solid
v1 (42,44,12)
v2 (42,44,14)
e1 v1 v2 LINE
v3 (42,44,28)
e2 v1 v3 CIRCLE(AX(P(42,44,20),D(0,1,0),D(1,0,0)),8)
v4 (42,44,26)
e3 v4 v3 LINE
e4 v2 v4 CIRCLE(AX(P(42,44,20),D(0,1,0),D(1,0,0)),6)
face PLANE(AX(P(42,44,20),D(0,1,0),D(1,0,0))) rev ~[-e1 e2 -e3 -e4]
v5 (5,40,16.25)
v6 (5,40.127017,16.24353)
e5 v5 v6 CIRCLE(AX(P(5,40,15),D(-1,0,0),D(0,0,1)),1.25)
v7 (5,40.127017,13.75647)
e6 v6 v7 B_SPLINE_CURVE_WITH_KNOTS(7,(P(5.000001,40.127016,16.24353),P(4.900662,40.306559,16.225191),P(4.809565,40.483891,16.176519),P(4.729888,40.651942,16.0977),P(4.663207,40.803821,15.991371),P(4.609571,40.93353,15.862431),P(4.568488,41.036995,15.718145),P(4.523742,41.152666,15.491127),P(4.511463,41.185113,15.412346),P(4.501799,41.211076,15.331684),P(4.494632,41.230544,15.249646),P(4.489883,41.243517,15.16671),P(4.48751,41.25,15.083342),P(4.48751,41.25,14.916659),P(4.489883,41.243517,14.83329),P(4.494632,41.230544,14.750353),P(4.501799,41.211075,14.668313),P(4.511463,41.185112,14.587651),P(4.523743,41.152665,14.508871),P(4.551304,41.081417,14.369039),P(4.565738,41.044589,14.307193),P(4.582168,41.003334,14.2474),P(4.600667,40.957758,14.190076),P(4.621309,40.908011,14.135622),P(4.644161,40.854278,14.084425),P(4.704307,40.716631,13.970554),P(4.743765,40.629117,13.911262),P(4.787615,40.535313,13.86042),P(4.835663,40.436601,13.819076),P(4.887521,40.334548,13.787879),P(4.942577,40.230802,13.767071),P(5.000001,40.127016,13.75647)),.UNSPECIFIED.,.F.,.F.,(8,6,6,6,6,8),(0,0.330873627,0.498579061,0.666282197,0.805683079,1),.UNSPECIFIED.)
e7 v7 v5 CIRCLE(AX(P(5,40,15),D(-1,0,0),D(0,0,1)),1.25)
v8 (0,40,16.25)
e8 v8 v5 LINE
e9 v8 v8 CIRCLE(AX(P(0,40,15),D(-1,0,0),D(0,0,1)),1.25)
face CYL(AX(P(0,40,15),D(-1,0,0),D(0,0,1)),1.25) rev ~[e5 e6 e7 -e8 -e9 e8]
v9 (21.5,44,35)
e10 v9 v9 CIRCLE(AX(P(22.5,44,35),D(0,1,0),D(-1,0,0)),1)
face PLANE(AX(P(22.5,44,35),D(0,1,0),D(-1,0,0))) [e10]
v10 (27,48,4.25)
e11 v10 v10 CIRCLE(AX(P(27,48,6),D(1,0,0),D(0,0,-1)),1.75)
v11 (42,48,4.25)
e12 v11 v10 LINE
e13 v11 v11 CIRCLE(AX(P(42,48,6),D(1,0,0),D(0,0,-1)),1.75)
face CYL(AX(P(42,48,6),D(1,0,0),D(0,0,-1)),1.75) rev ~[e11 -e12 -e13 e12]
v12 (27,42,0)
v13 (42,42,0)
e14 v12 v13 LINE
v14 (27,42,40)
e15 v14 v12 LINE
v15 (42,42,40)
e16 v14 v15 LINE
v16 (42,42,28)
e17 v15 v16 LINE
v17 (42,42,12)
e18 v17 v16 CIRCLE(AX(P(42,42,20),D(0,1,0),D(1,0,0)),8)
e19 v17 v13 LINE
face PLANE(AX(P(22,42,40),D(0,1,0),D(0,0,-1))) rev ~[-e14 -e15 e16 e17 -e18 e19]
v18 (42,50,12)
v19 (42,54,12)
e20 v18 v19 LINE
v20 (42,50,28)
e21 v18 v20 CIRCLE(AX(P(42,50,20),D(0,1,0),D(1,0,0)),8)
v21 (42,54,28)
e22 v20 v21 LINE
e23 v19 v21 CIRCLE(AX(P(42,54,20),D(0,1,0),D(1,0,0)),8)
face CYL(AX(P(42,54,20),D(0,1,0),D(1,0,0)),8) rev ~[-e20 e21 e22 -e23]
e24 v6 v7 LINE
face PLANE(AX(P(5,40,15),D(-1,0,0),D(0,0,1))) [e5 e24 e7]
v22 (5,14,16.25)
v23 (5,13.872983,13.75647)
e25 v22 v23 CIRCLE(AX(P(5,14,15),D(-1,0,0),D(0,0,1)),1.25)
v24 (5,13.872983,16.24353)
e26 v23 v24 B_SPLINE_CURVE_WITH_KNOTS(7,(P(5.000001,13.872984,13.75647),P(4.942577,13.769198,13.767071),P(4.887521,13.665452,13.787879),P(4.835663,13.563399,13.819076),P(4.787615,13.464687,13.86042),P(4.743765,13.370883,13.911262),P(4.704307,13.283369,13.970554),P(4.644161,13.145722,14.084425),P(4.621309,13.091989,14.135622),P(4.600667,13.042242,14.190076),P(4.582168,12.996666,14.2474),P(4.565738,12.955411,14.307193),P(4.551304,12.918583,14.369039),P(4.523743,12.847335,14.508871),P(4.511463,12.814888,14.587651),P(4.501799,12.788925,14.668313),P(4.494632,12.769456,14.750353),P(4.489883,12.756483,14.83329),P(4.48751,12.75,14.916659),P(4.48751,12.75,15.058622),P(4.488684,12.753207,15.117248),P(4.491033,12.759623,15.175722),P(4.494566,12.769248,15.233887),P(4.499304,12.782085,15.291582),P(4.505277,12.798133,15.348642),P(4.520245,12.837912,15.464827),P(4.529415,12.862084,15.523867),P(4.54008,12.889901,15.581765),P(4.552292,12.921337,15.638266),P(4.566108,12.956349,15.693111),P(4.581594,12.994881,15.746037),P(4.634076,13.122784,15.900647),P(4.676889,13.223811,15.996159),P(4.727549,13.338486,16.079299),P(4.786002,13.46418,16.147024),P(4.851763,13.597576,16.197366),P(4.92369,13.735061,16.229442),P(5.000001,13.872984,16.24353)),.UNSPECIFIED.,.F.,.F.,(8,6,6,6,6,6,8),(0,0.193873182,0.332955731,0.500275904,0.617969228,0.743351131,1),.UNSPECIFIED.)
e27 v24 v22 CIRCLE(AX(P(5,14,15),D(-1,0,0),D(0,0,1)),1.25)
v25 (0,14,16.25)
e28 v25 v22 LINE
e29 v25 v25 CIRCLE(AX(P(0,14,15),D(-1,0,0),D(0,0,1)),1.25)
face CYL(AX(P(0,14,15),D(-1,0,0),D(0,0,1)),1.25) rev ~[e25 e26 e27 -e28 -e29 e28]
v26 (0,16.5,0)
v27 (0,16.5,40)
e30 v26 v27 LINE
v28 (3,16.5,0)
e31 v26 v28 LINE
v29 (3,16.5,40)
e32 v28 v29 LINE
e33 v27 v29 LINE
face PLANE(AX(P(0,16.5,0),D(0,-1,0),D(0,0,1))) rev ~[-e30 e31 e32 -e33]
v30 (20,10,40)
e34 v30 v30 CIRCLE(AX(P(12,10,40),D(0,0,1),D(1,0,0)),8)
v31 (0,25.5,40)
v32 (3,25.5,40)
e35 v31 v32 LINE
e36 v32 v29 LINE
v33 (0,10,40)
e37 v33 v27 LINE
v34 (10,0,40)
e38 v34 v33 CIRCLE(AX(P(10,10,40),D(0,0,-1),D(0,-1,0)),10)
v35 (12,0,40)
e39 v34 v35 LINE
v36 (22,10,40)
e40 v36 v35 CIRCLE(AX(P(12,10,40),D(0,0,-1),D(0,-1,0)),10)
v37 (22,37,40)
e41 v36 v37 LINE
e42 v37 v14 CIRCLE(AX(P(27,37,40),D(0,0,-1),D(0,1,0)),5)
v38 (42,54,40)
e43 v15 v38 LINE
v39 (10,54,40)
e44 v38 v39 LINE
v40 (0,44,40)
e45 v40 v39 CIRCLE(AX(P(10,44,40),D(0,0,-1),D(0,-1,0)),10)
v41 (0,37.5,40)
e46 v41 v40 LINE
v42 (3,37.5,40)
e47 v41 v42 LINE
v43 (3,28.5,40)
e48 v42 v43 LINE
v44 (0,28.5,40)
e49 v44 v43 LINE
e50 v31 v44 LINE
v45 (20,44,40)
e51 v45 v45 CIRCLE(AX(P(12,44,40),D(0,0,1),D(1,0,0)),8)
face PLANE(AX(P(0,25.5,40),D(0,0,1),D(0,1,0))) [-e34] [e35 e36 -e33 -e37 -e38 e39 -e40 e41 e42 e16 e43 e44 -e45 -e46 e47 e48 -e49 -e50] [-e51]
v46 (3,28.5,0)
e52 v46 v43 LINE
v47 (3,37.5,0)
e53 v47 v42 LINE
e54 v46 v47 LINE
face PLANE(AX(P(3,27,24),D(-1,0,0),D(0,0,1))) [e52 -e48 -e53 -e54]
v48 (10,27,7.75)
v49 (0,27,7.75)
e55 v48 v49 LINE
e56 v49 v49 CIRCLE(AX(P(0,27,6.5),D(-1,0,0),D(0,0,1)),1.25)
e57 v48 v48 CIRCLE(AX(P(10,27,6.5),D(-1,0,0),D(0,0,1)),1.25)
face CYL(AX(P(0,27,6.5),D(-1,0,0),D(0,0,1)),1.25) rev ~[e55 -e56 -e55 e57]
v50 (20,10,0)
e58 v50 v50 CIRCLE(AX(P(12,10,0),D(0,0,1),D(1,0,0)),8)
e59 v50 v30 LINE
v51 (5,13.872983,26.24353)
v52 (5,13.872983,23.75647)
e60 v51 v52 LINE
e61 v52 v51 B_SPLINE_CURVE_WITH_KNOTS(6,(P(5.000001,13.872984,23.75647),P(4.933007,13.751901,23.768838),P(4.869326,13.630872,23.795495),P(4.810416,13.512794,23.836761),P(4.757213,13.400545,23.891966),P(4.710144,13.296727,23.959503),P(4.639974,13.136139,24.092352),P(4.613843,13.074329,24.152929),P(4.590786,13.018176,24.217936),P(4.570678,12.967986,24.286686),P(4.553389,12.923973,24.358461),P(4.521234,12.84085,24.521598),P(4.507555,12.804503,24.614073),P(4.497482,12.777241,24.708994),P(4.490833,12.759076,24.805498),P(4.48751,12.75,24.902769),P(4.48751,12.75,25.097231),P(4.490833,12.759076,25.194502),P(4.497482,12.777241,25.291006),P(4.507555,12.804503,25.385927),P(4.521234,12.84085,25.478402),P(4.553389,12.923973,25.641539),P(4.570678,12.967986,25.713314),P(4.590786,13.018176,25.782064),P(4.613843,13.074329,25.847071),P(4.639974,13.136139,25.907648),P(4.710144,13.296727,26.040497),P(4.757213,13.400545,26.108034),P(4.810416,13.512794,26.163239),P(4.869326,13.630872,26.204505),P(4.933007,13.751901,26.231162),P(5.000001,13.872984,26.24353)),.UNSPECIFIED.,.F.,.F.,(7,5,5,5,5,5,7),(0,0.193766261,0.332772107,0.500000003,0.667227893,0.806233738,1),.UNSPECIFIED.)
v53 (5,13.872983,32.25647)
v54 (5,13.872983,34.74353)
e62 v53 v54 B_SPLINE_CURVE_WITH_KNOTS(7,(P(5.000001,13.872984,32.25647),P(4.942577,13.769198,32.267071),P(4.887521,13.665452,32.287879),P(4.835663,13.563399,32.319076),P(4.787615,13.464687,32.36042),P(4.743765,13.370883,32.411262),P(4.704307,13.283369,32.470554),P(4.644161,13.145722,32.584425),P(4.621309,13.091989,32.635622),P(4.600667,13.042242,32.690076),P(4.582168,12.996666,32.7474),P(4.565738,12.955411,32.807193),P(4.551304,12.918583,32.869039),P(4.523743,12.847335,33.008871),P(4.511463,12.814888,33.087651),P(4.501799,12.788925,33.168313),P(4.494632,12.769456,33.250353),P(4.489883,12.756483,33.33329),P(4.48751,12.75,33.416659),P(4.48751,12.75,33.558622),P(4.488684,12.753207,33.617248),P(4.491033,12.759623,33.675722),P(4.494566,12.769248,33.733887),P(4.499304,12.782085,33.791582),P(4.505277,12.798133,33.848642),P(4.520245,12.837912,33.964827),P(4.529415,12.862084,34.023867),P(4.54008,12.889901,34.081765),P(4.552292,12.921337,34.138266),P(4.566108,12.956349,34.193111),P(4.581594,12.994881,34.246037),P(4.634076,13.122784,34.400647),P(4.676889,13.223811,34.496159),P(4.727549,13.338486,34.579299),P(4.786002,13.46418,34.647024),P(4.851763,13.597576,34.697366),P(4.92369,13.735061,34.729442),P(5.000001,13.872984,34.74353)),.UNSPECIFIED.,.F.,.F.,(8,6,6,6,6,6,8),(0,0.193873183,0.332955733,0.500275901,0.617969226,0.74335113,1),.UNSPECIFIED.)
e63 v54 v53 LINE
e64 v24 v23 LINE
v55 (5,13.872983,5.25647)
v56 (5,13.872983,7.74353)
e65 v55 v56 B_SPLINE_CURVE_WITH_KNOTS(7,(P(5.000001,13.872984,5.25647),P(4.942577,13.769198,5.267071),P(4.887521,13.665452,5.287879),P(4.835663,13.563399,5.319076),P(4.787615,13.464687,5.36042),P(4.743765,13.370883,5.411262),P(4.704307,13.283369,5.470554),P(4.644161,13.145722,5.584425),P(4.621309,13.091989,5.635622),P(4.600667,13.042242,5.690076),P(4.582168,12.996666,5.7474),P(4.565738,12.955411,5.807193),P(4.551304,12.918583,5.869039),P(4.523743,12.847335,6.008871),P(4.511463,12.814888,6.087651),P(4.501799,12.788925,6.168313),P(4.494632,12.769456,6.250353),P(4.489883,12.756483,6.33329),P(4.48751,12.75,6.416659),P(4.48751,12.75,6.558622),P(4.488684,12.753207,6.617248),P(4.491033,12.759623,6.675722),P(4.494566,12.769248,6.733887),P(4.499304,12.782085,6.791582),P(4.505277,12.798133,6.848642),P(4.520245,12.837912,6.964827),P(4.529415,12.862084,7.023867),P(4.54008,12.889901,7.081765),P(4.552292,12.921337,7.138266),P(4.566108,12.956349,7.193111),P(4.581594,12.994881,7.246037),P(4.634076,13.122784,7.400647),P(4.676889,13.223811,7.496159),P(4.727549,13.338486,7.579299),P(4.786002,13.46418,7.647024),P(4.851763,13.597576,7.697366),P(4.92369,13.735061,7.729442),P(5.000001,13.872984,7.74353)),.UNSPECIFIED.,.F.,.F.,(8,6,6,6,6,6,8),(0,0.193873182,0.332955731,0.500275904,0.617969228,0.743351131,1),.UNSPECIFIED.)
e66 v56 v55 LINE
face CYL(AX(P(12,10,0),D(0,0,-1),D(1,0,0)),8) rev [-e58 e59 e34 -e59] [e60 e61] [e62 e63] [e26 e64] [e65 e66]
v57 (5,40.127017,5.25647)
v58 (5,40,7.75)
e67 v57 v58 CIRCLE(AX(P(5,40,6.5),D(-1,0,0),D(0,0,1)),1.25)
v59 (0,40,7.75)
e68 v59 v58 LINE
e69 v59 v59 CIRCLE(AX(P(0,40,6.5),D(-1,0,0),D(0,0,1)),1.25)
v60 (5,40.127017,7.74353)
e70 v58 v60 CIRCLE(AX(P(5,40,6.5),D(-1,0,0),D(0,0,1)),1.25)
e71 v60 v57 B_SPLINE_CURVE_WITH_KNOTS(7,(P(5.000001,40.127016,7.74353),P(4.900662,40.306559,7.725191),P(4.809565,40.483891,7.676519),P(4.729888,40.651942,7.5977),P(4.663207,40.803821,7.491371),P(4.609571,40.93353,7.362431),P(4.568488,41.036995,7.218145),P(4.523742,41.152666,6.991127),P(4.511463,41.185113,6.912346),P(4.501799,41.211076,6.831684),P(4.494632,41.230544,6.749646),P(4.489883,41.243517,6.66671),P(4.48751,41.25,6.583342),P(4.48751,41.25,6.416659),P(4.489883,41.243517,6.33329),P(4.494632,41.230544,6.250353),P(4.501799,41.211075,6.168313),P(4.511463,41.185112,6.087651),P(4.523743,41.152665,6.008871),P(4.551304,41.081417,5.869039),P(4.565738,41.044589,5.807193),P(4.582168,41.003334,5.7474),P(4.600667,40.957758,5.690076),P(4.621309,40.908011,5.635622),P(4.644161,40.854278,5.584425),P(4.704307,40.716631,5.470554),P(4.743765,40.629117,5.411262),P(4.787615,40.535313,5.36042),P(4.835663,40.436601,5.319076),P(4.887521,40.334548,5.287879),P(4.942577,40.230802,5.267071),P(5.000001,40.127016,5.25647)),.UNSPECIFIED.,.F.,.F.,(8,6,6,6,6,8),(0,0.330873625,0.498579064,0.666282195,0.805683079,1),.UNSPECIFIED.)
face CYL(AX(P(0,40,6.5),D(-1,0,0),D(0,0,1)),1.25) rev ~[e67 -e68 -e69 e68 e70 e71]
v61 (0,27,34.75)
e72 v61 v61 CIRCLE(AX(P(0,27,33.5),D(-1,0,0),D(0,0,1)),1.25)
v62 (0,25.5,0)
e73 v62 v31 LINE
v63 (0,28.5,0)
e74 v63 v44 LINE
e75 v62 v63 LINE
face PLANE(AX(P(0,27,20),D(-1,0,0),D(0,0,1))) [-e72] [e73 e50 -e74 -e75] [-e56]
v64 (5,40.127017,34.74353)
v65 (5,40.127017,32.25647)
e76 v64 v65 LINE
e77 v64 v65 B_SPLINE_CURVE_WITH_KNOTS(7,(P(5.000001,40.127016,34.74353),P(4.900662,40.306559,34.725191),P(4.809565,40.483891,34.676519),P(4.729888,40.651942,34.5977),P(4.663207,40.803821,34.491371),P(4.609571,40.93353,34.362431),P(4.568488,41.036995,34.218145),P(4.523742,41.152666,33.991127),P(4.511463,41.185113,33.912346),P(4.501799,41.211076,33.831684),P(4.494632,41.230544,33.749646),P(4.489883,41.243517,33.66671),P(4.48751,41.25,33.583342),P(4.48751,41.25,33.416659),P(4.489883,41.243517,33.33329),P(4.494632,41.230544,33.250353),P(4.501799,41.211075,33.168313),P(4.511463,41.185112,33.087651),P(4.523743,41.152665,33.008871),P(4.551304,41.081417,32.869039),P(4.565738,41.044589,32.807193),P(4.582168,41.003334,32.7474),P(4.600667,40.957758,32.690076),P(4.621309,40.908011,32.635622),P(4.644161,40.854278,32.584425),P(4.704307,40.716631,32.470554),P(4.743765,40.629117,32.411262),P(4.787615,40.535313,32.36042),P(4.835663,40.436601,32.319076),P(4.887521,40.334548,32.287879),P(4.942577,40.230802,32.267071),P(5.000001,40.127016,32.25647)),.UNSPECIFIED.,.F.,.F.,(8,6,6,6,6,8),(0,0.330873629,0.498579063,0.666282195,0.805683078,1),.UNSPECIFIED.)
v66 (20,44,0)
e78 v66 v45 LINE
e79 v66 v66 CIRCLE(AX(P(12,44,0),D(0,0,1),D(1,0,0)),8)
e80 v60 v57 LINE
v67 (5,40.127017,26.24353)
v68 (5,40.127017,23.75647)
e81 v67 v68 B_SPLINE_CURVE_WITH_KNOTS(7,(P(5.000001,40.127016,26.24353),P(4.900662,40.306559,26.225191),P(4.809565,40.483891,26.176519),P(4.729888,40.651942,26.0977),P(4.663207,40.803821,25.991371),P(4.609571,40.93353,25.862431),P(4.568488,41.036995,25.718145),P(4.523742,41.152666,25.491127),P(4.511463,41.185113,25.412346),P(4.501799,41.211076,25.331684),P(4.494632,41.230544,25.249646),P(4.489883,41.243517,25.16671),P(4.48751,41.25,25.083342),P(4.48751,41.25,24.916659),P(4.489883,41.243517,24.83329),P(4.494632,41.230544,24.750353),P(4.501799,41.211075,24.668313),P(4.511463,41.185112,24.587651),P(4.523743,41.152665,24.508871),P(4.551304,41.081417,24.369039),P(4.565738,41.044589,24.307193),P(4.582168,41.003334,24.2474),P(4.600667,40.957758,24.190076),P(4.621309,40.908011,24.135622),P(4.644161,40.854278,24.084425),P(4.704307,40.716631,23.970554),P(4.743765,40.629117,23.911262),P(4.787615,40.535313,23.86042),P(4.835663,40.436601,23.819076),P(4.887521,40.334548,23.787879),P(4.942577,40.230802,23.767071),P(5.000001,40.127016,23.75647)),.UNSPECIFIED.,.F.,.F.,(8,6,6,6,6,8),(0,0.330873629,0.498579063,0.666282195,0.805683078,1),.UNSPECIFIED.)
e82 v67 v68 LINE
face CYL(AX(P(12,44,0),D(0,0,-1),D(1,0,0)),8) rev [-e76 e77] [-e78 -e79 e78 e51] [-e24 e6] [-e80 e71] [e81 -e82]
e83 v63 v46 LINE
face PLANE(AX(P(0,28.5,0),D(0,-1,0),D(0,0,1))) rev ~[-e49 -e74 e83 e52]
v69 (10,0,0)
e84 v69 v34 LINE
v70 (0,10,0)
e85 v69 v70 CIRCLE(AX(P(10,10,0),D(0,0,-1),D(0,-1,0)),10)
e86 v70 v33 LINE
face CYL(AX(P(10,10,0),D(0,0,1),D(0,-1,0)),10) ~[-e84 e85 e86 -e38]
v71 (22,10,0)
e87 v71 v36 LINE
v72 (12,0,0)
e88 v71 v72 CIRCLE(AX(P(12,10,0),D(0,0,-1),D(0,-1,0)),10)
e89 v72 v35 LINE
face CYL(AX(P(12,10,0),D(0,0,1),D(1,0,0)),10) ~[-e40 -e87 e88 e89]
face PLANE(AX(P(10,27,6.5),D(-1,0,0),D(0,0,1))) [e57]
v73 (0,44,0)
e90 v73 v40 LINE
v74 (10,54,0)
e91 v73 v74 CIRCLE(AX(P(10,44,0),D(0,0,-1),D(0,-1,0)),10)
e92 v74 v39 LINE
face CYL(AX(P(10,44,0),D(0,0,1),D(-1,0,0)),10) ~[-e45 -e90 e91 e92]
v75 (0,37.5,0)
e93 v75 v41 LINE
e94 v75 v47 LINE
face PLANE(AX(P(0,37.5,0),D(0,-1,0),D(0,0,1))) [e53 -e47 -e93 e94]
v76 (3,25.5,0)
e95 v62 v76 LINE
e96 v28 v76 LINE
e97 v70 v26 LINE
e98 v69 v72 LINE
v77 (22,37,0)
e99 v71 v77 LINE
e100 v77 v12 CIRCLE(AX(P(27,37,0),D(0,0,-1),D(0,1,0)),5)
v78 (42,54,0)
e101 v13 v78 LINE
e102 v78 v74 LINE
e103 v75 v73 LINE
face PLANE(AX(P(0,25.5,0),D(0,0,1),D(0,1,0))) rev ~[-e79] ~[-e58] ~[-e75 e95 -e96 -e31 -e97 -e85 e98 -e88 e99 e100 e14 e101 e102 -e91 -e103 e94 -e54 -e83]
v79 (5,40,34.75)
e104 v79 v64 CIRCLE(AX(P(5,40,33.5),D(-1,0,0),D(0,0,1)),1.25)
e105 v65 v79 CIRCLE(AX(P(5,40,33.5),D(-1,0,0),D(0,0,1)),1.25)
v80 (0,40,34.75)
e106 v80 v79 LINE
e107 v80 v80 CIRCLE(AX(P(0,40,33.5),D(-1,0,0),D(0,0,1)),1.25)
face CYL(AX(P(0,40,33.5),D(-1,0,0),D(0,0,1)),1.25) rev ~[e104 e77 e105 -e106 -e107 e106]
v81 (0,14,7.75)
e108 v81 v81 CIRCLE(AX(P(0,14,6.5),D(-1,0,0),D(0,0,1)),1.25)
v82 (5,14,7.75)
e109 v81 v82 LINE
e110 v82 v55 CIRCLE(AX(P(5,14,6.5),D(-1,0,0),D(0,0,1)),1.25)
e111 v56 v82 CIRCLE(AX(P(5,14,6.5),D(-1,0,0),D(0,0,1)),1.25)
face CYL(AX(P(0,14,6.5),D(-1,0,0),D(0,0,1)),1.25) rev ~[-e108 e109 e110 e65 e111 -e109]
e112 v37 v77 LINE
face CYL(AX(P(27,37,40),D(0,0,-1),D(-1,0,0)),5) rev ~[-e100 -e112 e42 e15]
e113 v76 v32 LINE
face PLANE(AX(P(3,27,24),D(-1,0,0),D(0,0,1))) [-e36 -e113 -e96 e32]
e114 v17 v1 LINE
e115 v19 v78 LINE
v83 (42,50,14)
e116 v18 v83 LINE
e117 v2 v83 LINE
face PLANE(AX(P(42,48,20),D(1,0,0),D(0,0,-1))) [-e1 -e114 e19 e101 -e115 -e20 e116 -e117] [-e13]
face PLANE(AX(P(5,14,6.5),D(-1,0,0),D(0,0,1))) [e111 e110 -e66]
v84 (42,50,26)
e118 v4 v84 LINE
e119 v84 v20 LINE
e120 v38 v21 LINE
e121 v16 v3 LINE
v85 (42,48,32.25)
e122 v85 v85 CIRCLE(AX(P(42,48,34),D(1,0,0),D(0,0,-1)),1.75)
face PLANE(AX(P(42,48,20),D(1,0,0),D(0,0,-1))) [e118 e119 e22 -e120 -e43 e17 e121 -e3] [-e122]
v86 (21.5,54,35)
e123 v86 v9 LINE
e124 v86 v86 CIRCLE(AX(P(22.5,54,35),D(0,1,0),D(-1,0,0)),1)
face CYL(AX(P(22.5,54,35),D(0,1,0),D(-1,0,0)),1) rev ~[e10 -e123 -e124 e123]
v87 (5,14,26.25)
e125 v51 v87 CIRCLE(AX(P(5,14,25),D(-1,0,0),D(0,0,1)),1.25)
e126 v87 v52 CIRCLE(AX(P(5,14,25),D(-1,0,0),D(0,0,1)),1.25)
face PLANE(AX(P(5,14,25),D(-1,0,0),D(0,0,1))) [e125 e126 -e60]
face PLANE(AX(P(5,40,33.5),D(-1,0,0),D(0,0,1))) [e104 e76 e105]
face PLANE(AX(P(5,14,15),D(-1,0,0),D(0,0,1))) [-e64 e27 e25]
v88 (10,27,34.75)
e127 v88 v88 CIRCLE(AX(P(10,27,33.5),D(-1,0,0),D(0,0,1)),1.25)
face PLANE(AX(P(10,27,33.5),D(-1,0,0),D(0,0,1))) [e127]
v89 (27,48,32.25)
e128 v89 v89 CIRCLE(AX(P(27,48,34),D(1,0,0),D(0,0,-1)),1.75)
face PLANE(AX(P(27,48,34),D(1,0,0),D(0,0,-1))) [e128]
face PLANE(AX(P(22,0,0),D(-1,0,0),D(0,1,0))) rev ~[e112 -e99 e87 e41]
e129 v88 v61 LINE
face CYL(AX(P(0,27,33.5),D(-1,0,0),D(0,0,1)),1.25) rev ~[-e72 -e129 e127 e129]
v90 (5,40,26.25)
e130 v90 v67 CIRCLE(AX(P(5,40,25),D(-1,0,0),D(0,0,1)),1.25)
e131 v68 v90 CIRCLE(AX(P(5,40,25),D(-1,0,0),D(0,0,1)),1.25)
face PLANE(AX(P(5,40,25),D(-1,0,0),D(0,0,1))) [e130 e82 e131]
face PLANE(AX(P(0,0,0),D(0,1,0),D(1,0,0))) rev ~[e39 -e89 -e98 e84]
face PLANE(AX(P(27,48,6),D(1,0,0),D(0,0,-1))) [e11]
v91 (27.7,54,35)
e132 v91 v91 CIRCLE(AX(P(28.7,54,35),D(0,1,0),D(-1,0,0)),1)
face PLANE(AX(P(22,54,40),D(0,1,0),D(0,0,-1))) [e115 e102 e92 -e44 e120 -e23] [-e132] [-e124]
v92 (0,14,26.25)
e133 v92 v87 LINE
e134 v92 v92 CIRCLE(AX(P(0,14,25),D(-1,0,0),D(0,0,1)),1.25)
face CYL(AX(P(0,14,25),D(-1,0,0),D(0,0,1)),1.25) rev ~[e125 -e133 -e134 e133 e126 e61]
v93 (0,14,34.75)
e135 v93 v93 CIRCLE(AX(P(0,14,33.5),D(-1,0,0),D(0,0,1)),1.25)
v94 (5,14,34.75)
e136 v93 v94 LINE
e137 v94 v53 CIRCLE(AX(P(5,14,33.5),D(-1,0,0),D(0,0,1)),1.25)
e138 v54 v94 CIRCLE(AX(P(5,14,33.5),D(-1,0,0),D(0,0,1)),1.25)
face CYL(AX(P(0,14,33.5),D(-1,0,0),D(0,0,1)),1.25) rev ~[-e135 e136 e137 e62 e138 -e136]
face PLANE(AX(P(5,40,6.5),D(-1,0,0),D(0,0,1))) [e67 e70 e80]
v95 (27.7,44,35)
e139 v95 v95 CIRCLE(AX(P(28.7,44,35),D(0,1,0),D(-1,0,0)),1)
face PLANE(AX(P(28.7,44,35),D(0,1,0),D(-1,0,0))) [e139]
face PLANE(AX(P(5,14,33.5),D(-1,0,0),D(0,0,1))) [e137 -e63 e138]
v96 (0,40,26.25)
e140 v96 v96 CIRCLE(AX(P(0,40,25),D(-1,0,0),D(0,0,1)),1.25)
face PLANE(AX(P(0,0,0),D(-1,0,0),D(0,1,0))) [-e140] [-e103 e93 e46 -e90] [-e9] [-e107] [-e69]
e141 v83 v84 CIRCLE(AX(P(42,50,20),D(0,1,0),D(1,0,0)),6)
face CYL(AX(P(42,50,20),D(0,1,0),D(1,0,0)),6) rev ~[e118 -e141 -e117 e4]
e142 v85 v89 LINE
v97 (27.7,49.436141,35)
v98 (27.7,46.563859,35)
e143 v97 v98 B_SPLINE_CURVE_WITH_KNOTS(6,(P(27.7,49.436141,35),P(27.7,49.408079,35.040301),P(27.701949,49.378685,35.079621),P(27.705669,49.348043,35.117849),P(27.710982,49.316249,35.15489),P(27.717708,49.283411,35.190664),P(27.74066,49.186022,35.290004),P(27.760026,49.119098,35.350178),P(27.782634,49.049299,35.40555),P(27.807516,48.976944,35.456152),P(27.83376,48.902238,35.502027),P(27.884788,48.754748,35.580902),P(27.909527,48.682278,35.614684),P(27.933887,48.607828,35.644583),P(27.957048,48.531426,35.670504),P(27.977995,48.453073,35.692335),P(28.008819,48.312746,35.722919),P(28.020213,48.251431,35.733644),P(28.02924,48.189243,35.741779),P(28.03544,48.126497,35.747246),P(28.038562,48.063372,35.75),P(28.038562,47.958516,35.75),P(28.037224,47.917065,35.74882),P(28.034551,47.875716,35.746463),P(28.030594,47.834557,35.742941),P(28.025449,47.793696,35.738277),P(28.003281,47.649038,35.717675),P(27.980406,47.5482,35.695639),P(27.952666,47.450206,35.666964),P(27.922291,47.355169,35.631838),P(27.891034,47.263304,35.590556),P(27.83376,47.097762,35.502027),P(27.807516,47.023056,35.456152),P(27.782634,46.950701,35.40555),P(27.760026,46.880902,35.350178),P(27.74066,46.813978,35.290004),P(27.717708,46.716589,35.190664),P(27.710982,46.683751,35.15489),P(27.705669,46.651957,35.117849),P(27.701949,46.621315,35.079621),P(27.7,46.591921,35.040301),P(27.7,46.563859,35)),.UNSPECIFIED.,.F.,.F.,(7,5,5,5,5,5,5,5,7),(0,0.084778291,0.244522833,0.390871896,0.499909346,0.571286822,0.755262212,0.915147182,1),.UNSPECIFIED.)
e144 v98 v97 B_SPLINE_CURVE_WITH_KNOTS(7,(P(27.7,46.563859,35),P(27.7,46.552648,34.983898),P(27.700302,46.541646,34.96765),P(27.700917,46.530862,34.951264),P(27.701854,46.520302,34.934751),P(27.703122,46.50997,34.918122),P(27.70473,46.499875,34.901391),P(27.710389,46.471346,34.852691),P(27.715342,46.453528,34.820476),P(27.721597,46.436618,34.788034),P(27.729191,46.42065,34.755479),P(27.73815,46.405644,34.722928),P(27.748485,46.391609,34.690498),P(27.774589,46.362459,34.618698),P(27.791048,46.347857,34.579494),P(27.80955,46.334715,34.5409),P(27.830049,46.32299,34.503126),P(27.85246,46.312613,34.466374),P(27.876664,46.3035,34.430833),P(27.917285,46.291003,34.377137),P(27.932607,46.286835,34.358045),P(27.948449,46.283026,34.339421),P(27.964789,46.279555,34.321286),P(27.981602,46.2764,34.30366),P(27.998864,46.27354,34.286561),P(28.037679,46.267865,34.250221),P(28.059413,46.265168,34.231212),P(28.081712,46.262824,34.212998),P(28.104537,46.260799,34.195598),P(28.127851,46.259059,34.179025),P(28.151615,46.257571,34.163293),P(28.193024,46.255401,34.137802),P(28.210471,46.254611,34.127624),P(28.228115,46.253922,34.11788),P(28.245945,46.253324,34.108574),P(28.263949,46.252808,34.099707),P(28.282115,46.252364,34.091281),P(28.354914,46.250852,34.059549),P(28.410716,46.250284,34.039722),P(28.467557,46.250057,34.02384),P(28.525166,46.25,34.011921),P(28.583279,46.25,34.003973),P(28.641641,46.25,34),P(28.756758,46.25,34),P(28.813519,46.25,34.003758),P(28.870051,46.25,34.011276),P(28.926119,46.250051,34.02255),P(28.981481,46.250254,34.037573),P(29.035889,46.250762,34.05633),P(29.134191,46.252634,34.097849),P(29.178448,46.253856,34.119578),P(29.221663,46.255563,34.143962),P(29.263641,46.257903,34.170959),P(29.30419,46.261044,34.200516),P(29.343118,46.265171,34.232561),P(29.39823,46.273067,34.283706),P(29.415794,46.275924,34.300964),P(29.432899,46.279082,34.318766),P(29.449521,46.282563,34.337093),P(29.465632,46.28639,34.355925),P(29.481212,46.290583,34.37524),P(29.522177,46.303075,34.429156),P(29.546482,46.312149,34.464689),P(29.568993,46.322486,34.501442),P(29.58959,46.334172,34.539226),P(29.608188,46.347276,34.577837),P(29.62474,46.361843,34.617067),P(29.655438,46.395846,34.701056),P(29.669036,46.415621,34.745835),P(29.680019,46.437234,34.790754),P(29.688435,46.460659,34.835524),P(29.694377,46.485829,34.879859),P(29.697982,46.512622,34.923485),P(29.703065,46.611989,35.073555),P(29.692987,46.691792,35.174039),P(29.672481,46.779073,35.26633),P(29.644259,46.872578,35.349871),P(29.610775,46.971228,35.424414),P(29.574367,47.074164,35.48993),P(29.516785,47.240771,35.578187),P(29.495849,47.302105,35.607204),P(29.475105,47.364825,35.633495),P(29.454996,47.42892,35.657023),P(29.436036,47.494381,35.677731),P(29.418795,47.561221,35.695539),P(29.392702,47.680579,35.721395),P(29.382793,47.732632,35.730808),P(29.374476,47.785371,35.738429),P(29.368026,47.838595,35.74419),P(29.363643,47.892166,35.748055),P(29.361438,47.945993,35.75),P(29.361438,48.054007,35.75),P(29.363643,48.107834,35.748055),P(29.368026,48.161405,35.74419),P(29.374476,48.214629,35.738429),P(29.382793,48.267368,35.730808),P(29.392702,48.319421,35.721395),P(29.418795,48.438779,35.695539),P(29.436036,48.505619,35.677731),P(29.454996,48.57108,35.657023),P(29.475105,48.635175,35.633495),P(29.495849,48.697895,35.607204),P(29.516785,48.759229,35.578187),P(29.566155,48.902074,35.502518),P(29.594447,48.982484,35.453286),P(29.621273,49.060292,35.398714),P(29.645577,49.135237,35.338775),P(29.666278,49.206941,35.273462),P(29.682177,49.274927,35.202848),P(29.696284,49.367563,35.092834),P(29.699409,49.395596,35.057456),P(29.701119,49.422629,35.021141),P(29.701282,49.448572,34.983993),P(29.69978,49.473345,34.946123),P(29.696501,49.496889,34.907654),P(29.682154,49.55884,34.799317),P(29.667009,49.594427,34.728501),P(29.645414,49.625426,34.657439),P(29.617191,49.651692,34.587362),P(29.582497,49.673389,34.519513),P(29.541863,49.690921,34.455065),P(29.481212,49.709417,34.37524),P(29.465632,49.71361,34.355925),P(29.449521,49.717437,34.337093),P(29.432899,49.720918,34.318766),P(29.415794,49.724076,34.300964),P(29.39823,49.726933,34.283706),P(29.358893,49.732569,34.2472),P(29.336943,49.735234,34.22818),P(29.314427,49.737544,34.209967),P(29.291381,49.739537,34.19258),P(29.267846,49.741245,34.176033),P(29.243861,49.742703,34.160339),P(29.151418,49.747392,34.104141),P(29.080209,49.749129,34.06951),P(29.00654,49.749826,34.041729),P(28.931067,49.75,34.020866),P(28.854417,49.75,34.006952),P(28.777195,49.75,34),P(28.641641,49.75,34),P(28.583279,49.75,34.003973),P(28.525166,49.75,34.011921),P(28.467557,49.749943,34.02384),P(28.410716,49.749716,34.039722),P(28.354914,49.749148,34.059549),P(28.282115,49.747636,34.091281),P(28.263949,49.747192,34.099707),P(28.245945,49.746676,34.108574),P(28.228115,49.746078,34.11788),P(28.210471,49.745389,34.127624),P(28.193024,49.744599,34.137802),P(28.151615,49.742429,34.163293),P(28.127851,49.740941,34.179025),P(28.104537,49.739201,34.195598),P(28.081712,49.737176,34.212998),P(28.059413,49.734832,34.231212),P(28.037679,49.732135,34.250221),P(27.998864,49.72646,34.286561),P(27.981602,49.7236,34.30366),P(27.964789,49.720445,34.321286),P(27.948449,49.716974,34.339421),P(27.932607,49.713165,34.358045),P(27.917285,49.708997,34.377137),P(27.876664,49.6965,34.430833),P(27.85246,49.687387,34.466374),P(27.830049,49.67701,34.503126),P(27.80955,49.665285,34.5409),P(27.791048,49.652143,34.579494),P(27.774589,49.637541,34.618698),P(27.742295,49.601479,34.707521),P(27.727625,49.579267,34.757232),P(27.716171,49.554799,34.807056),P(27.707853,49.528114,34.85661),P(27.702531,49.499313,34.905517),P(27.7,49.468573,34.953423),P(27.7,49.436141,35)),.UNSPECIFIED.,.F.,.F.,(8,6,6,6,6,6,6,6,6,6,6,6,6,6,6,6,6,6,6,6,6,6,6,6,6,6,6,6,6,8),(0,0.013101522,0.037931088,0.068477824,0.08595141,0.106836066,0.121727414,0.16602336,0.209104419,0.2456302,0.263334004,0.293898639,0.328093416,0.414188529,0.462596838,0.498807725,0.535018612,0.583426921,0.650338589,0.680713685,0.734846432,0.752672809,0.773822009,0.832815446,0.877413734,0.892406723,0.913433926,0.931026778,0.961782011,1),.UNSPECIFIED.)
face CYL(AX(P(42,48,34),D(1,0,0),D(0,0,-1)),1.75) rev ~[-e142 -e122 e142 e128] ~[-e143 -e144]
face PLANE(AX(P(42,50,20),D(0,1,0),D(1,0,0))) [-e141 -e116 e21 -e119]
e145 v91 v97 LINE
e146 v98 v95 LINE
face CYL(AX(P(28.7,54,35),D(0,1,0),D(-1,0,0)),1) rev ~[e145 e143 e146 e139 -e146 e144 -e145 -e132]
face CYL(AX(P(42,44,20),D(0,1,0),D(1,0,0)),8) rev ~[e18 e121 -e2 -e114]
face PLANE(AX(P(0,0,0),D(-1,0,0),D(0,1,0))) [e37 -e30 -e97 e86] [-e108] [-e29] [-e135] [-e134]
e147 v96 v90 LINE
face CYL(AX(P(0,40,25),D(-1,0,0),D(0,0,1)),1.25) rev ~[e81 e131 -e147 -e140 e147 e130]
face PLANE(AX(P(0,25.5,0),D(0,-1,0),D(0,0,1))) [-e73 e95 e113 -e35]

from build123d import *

# Parameters (mm, degrees)
SKETCH1_W           = 22
SKETCH1_H           = 54
SKETCH1_R           = 8
BOSS_EXTRUDE1_DEPTH = 40
SKETCH2_W           = 48
SKETCH2_H           = 21
CUT_EXTRUDE1_DEPTH  = 3
SKETCH6_W           = 40
SKETCH6_H           = 12
BOSS_EXTRUDE2_DEPTH = 20
SKETCH7_R           = 8
CUT_EXTRUDE5_DEPTH  = 4
CUT_EXTRUDE6_START  = -10
SKETCH7_2_R         = 8
CUT_EXTRUDE6_DEPTH  = 3
SKETCH8_R           = 6
CUT_EXTRUDE7_DEPTH  = 7
SKETCH9_R           = 1.75
CUT_EXTRUDE8_DEPTH  = 15
SKETCH10_R          = 1.25
CUT_EXTRUDE9_DEPTH  = 5
SKETCH13_R          = 1.25
CUT_EXTRUDE10_DEPTH = 10
BOSS_EXTRUDE3_START = 3
SKETCH14_W          = 40
SKETCH14_H          = 3
SKETCH14_R          = 1.25
BOSS_EXTRUDE3_DEPTH = 3
FILLET1_R           = 10
FILLET2_R           = 5
SKETCH15_R          = 1
CUT_EXTRUDE11_DEPTH = 10


with BuildPart() as part:
    # Sketch1 → Boss-Extrude1 (new body)
    with BuildSketch(Plane.XY):
        with Locations((11, 27)):
            Rectangle(SKETCH1_W, SKETCH1_H)
        with Locations((12, 10)):
            Circle(SKETCH1_R, mode=Mode.SUBTRACT)
        with Locations((12, 44)):
            Circle(SKETCH1_R, mode=Mode.SUBTRACT)
    extrude(amount=BOSS_EXTRUDE1_DEPTH)

    # Sketch2 → Cut-Extrude1 (cut)
    with BuildSketch(Plane.ZY):
        with Locations((24, 27)):
            Rectangle(SKETCH2_W, SKETCH2_H)
    extrude(amount=-CUT_EXTRUDE1_DEPTH, mode=Mode.SUBTRACT)

    # Sketch6 → Boss-Extrude2 (add)
    with BuildSketch(Plane(origin=(22, 0, 0), x_dir=(0, 0, -1), z_dir=(1, 0, 0))):
        with Locations((-20, 48)):
            Rectangle(SKETCH6_W, SKETCH6_H)
    extrude(amount=BOSS_EXTRUDE2_DEPTH)

    # Sketch7 → Cut-Extrude5 (cut)
    with BuildSketch(Plane(origin=(0, 54, 0), x_dir=(1, 0, 0), z_dir=(0, 1, 0))):
        with Locations((42, -20)):
            Circle(SKETCH7_R)
    extrude(amount=-CUT_EXTRUDE5_DEPTH, mode=Mode.SUBTRACT)

    # Sketch7<2> → Cut-Extrude6 (cut)
    with BuildSketch(Plane(origin=(0, 54, 0), x_dir=(1, 0, 0), z_dir=(0, 1, 0)).offset(CUT_EXTRUDE6_START)):
        with Locations((42, -20)):
            Circle(SKETCH7_2_R)
    extrude(amount=-CUT_EXTRUDE6_DEPTH, mode=Mode.SUBTRACT)

    # Sketch8 → Cut-Extrude7 (cut)
    with BuildSketch(Plane(origin=(0, 50, 0), x_dir=(1, 0, 0), z_dir=(0, 1, 0))):
        with Locations((42, -20)):
            Circle(SKETCH8_R)
    extrude(amount=-CUT_EXTRUDE7_DEPTH, mode=Mode.SUBTRACT)

    # Sketch9 → Cut-Extrude8 (cut)
    with BuildSketch(Plane(origin=(42, 0, 0), x_dir=(0, 0, -1), z_dir=(1, 0, 0))):
        with Locations((-34, 48)):
            Circle(SKETCH9_R)
        with Locations((-6, 48)):
            Circle(SKETCH9_R)
    extrude(amount=-CUT_EXTRUDE8_DEPTH, mode=Mode.SUBTRACT)

    # Sketch10 → Cut-Extrude9 (cut)
    with BuildSketch(Plane.ZY):
        with Locations((33.5, 40)):
            Circle(SKETCH10_R)
        with Locations((33.5, 14)):
            Circle(SKETCH10_R)
        with Locations((6.5, 14)):
            Circle(SKETCH10_R)
        with Locations((6.5, 40)):
            Circle(SKETCH10_R)
        with Locations((15, 40)):
            Circle(SKETCH10_R)
        with Locations((25, 40)):
            Circle(SKETCH10_R)
        with Locations((15, 14)):
            Circle(SKETCH10_R)
        with Locations((25, 14)):
            Circle(SKETCH10_R)
    extrude(amount=-CUT_EXTRUDE9_DEPTH, mode=Mode.SUBTRACT)

    # Sketch13 → Cut-Extrude10 (cut)
    with BuildSketch(Plane.ZY):
        with Locations((6.5, 27)):
            Circle(SKETCH13_R)
        with Locations((33.5, 27)):
            Circle(SKETCH13_R)
    extrude(amount=-CUT_EXTRUDE10_DEPTH, mode=Mode.SUBTRACT)

    # Sketch14 → Boss-Extrude3 (add)
    with BuildSketch(Plane.ZY.offset(-3).offset(BOSS_EXTRUDE3_START)):
        with Locations((20, 27)):
            Rectangle(SKETCH14_W, SKETCH14_H)
        with Locations((6.5, 27)):
            Circle(SKETCH14_R, mode=Mode.SUBTRACT)
        with Locations((33.5, 27)):
            Circle(SKETCH14_R, mode=Mode.SUBTRACT)
    extrude(amount=-BOSS_EXTRUDE3_DEPTH)

    # Fillet1
    fillet1_edges = [part.edges().sort_by_distance(p)[0] for p in [
        (0, 54, 20),
        (22, 0, 20),
        (0, 0, 20),
    ]]
    fillet(fillet1_edges, radius=FILLET1_R)

    # Fillet2
    fillet2_edges = [part.edges().sort_by_distance(p)[0] for p in [
        (22, 42, 20),
    ]]
    fillet(fillet2_edges, radius=FILLET2_R)

    # Sketch15 → Cut-Extrude11 (cut)
    with BuildSketch(Plane(origin=(0, 54, 0), x_dir=(1, 0, 0), z_dir=(0, 1, 0))):
        with Locations(Location((22.5, -35, 0), (0, 0, 180))):
            Circle(SKETCH15_R)
        with Locations(Location((28.7, -35, 0), (0, 0, 180))):
            Circle(SKETCH15_R)
    extrude(amount=-CUT_EXTRUDE11_DEPTH, mode=Mode.SUBTRACT)


solid = part.part
